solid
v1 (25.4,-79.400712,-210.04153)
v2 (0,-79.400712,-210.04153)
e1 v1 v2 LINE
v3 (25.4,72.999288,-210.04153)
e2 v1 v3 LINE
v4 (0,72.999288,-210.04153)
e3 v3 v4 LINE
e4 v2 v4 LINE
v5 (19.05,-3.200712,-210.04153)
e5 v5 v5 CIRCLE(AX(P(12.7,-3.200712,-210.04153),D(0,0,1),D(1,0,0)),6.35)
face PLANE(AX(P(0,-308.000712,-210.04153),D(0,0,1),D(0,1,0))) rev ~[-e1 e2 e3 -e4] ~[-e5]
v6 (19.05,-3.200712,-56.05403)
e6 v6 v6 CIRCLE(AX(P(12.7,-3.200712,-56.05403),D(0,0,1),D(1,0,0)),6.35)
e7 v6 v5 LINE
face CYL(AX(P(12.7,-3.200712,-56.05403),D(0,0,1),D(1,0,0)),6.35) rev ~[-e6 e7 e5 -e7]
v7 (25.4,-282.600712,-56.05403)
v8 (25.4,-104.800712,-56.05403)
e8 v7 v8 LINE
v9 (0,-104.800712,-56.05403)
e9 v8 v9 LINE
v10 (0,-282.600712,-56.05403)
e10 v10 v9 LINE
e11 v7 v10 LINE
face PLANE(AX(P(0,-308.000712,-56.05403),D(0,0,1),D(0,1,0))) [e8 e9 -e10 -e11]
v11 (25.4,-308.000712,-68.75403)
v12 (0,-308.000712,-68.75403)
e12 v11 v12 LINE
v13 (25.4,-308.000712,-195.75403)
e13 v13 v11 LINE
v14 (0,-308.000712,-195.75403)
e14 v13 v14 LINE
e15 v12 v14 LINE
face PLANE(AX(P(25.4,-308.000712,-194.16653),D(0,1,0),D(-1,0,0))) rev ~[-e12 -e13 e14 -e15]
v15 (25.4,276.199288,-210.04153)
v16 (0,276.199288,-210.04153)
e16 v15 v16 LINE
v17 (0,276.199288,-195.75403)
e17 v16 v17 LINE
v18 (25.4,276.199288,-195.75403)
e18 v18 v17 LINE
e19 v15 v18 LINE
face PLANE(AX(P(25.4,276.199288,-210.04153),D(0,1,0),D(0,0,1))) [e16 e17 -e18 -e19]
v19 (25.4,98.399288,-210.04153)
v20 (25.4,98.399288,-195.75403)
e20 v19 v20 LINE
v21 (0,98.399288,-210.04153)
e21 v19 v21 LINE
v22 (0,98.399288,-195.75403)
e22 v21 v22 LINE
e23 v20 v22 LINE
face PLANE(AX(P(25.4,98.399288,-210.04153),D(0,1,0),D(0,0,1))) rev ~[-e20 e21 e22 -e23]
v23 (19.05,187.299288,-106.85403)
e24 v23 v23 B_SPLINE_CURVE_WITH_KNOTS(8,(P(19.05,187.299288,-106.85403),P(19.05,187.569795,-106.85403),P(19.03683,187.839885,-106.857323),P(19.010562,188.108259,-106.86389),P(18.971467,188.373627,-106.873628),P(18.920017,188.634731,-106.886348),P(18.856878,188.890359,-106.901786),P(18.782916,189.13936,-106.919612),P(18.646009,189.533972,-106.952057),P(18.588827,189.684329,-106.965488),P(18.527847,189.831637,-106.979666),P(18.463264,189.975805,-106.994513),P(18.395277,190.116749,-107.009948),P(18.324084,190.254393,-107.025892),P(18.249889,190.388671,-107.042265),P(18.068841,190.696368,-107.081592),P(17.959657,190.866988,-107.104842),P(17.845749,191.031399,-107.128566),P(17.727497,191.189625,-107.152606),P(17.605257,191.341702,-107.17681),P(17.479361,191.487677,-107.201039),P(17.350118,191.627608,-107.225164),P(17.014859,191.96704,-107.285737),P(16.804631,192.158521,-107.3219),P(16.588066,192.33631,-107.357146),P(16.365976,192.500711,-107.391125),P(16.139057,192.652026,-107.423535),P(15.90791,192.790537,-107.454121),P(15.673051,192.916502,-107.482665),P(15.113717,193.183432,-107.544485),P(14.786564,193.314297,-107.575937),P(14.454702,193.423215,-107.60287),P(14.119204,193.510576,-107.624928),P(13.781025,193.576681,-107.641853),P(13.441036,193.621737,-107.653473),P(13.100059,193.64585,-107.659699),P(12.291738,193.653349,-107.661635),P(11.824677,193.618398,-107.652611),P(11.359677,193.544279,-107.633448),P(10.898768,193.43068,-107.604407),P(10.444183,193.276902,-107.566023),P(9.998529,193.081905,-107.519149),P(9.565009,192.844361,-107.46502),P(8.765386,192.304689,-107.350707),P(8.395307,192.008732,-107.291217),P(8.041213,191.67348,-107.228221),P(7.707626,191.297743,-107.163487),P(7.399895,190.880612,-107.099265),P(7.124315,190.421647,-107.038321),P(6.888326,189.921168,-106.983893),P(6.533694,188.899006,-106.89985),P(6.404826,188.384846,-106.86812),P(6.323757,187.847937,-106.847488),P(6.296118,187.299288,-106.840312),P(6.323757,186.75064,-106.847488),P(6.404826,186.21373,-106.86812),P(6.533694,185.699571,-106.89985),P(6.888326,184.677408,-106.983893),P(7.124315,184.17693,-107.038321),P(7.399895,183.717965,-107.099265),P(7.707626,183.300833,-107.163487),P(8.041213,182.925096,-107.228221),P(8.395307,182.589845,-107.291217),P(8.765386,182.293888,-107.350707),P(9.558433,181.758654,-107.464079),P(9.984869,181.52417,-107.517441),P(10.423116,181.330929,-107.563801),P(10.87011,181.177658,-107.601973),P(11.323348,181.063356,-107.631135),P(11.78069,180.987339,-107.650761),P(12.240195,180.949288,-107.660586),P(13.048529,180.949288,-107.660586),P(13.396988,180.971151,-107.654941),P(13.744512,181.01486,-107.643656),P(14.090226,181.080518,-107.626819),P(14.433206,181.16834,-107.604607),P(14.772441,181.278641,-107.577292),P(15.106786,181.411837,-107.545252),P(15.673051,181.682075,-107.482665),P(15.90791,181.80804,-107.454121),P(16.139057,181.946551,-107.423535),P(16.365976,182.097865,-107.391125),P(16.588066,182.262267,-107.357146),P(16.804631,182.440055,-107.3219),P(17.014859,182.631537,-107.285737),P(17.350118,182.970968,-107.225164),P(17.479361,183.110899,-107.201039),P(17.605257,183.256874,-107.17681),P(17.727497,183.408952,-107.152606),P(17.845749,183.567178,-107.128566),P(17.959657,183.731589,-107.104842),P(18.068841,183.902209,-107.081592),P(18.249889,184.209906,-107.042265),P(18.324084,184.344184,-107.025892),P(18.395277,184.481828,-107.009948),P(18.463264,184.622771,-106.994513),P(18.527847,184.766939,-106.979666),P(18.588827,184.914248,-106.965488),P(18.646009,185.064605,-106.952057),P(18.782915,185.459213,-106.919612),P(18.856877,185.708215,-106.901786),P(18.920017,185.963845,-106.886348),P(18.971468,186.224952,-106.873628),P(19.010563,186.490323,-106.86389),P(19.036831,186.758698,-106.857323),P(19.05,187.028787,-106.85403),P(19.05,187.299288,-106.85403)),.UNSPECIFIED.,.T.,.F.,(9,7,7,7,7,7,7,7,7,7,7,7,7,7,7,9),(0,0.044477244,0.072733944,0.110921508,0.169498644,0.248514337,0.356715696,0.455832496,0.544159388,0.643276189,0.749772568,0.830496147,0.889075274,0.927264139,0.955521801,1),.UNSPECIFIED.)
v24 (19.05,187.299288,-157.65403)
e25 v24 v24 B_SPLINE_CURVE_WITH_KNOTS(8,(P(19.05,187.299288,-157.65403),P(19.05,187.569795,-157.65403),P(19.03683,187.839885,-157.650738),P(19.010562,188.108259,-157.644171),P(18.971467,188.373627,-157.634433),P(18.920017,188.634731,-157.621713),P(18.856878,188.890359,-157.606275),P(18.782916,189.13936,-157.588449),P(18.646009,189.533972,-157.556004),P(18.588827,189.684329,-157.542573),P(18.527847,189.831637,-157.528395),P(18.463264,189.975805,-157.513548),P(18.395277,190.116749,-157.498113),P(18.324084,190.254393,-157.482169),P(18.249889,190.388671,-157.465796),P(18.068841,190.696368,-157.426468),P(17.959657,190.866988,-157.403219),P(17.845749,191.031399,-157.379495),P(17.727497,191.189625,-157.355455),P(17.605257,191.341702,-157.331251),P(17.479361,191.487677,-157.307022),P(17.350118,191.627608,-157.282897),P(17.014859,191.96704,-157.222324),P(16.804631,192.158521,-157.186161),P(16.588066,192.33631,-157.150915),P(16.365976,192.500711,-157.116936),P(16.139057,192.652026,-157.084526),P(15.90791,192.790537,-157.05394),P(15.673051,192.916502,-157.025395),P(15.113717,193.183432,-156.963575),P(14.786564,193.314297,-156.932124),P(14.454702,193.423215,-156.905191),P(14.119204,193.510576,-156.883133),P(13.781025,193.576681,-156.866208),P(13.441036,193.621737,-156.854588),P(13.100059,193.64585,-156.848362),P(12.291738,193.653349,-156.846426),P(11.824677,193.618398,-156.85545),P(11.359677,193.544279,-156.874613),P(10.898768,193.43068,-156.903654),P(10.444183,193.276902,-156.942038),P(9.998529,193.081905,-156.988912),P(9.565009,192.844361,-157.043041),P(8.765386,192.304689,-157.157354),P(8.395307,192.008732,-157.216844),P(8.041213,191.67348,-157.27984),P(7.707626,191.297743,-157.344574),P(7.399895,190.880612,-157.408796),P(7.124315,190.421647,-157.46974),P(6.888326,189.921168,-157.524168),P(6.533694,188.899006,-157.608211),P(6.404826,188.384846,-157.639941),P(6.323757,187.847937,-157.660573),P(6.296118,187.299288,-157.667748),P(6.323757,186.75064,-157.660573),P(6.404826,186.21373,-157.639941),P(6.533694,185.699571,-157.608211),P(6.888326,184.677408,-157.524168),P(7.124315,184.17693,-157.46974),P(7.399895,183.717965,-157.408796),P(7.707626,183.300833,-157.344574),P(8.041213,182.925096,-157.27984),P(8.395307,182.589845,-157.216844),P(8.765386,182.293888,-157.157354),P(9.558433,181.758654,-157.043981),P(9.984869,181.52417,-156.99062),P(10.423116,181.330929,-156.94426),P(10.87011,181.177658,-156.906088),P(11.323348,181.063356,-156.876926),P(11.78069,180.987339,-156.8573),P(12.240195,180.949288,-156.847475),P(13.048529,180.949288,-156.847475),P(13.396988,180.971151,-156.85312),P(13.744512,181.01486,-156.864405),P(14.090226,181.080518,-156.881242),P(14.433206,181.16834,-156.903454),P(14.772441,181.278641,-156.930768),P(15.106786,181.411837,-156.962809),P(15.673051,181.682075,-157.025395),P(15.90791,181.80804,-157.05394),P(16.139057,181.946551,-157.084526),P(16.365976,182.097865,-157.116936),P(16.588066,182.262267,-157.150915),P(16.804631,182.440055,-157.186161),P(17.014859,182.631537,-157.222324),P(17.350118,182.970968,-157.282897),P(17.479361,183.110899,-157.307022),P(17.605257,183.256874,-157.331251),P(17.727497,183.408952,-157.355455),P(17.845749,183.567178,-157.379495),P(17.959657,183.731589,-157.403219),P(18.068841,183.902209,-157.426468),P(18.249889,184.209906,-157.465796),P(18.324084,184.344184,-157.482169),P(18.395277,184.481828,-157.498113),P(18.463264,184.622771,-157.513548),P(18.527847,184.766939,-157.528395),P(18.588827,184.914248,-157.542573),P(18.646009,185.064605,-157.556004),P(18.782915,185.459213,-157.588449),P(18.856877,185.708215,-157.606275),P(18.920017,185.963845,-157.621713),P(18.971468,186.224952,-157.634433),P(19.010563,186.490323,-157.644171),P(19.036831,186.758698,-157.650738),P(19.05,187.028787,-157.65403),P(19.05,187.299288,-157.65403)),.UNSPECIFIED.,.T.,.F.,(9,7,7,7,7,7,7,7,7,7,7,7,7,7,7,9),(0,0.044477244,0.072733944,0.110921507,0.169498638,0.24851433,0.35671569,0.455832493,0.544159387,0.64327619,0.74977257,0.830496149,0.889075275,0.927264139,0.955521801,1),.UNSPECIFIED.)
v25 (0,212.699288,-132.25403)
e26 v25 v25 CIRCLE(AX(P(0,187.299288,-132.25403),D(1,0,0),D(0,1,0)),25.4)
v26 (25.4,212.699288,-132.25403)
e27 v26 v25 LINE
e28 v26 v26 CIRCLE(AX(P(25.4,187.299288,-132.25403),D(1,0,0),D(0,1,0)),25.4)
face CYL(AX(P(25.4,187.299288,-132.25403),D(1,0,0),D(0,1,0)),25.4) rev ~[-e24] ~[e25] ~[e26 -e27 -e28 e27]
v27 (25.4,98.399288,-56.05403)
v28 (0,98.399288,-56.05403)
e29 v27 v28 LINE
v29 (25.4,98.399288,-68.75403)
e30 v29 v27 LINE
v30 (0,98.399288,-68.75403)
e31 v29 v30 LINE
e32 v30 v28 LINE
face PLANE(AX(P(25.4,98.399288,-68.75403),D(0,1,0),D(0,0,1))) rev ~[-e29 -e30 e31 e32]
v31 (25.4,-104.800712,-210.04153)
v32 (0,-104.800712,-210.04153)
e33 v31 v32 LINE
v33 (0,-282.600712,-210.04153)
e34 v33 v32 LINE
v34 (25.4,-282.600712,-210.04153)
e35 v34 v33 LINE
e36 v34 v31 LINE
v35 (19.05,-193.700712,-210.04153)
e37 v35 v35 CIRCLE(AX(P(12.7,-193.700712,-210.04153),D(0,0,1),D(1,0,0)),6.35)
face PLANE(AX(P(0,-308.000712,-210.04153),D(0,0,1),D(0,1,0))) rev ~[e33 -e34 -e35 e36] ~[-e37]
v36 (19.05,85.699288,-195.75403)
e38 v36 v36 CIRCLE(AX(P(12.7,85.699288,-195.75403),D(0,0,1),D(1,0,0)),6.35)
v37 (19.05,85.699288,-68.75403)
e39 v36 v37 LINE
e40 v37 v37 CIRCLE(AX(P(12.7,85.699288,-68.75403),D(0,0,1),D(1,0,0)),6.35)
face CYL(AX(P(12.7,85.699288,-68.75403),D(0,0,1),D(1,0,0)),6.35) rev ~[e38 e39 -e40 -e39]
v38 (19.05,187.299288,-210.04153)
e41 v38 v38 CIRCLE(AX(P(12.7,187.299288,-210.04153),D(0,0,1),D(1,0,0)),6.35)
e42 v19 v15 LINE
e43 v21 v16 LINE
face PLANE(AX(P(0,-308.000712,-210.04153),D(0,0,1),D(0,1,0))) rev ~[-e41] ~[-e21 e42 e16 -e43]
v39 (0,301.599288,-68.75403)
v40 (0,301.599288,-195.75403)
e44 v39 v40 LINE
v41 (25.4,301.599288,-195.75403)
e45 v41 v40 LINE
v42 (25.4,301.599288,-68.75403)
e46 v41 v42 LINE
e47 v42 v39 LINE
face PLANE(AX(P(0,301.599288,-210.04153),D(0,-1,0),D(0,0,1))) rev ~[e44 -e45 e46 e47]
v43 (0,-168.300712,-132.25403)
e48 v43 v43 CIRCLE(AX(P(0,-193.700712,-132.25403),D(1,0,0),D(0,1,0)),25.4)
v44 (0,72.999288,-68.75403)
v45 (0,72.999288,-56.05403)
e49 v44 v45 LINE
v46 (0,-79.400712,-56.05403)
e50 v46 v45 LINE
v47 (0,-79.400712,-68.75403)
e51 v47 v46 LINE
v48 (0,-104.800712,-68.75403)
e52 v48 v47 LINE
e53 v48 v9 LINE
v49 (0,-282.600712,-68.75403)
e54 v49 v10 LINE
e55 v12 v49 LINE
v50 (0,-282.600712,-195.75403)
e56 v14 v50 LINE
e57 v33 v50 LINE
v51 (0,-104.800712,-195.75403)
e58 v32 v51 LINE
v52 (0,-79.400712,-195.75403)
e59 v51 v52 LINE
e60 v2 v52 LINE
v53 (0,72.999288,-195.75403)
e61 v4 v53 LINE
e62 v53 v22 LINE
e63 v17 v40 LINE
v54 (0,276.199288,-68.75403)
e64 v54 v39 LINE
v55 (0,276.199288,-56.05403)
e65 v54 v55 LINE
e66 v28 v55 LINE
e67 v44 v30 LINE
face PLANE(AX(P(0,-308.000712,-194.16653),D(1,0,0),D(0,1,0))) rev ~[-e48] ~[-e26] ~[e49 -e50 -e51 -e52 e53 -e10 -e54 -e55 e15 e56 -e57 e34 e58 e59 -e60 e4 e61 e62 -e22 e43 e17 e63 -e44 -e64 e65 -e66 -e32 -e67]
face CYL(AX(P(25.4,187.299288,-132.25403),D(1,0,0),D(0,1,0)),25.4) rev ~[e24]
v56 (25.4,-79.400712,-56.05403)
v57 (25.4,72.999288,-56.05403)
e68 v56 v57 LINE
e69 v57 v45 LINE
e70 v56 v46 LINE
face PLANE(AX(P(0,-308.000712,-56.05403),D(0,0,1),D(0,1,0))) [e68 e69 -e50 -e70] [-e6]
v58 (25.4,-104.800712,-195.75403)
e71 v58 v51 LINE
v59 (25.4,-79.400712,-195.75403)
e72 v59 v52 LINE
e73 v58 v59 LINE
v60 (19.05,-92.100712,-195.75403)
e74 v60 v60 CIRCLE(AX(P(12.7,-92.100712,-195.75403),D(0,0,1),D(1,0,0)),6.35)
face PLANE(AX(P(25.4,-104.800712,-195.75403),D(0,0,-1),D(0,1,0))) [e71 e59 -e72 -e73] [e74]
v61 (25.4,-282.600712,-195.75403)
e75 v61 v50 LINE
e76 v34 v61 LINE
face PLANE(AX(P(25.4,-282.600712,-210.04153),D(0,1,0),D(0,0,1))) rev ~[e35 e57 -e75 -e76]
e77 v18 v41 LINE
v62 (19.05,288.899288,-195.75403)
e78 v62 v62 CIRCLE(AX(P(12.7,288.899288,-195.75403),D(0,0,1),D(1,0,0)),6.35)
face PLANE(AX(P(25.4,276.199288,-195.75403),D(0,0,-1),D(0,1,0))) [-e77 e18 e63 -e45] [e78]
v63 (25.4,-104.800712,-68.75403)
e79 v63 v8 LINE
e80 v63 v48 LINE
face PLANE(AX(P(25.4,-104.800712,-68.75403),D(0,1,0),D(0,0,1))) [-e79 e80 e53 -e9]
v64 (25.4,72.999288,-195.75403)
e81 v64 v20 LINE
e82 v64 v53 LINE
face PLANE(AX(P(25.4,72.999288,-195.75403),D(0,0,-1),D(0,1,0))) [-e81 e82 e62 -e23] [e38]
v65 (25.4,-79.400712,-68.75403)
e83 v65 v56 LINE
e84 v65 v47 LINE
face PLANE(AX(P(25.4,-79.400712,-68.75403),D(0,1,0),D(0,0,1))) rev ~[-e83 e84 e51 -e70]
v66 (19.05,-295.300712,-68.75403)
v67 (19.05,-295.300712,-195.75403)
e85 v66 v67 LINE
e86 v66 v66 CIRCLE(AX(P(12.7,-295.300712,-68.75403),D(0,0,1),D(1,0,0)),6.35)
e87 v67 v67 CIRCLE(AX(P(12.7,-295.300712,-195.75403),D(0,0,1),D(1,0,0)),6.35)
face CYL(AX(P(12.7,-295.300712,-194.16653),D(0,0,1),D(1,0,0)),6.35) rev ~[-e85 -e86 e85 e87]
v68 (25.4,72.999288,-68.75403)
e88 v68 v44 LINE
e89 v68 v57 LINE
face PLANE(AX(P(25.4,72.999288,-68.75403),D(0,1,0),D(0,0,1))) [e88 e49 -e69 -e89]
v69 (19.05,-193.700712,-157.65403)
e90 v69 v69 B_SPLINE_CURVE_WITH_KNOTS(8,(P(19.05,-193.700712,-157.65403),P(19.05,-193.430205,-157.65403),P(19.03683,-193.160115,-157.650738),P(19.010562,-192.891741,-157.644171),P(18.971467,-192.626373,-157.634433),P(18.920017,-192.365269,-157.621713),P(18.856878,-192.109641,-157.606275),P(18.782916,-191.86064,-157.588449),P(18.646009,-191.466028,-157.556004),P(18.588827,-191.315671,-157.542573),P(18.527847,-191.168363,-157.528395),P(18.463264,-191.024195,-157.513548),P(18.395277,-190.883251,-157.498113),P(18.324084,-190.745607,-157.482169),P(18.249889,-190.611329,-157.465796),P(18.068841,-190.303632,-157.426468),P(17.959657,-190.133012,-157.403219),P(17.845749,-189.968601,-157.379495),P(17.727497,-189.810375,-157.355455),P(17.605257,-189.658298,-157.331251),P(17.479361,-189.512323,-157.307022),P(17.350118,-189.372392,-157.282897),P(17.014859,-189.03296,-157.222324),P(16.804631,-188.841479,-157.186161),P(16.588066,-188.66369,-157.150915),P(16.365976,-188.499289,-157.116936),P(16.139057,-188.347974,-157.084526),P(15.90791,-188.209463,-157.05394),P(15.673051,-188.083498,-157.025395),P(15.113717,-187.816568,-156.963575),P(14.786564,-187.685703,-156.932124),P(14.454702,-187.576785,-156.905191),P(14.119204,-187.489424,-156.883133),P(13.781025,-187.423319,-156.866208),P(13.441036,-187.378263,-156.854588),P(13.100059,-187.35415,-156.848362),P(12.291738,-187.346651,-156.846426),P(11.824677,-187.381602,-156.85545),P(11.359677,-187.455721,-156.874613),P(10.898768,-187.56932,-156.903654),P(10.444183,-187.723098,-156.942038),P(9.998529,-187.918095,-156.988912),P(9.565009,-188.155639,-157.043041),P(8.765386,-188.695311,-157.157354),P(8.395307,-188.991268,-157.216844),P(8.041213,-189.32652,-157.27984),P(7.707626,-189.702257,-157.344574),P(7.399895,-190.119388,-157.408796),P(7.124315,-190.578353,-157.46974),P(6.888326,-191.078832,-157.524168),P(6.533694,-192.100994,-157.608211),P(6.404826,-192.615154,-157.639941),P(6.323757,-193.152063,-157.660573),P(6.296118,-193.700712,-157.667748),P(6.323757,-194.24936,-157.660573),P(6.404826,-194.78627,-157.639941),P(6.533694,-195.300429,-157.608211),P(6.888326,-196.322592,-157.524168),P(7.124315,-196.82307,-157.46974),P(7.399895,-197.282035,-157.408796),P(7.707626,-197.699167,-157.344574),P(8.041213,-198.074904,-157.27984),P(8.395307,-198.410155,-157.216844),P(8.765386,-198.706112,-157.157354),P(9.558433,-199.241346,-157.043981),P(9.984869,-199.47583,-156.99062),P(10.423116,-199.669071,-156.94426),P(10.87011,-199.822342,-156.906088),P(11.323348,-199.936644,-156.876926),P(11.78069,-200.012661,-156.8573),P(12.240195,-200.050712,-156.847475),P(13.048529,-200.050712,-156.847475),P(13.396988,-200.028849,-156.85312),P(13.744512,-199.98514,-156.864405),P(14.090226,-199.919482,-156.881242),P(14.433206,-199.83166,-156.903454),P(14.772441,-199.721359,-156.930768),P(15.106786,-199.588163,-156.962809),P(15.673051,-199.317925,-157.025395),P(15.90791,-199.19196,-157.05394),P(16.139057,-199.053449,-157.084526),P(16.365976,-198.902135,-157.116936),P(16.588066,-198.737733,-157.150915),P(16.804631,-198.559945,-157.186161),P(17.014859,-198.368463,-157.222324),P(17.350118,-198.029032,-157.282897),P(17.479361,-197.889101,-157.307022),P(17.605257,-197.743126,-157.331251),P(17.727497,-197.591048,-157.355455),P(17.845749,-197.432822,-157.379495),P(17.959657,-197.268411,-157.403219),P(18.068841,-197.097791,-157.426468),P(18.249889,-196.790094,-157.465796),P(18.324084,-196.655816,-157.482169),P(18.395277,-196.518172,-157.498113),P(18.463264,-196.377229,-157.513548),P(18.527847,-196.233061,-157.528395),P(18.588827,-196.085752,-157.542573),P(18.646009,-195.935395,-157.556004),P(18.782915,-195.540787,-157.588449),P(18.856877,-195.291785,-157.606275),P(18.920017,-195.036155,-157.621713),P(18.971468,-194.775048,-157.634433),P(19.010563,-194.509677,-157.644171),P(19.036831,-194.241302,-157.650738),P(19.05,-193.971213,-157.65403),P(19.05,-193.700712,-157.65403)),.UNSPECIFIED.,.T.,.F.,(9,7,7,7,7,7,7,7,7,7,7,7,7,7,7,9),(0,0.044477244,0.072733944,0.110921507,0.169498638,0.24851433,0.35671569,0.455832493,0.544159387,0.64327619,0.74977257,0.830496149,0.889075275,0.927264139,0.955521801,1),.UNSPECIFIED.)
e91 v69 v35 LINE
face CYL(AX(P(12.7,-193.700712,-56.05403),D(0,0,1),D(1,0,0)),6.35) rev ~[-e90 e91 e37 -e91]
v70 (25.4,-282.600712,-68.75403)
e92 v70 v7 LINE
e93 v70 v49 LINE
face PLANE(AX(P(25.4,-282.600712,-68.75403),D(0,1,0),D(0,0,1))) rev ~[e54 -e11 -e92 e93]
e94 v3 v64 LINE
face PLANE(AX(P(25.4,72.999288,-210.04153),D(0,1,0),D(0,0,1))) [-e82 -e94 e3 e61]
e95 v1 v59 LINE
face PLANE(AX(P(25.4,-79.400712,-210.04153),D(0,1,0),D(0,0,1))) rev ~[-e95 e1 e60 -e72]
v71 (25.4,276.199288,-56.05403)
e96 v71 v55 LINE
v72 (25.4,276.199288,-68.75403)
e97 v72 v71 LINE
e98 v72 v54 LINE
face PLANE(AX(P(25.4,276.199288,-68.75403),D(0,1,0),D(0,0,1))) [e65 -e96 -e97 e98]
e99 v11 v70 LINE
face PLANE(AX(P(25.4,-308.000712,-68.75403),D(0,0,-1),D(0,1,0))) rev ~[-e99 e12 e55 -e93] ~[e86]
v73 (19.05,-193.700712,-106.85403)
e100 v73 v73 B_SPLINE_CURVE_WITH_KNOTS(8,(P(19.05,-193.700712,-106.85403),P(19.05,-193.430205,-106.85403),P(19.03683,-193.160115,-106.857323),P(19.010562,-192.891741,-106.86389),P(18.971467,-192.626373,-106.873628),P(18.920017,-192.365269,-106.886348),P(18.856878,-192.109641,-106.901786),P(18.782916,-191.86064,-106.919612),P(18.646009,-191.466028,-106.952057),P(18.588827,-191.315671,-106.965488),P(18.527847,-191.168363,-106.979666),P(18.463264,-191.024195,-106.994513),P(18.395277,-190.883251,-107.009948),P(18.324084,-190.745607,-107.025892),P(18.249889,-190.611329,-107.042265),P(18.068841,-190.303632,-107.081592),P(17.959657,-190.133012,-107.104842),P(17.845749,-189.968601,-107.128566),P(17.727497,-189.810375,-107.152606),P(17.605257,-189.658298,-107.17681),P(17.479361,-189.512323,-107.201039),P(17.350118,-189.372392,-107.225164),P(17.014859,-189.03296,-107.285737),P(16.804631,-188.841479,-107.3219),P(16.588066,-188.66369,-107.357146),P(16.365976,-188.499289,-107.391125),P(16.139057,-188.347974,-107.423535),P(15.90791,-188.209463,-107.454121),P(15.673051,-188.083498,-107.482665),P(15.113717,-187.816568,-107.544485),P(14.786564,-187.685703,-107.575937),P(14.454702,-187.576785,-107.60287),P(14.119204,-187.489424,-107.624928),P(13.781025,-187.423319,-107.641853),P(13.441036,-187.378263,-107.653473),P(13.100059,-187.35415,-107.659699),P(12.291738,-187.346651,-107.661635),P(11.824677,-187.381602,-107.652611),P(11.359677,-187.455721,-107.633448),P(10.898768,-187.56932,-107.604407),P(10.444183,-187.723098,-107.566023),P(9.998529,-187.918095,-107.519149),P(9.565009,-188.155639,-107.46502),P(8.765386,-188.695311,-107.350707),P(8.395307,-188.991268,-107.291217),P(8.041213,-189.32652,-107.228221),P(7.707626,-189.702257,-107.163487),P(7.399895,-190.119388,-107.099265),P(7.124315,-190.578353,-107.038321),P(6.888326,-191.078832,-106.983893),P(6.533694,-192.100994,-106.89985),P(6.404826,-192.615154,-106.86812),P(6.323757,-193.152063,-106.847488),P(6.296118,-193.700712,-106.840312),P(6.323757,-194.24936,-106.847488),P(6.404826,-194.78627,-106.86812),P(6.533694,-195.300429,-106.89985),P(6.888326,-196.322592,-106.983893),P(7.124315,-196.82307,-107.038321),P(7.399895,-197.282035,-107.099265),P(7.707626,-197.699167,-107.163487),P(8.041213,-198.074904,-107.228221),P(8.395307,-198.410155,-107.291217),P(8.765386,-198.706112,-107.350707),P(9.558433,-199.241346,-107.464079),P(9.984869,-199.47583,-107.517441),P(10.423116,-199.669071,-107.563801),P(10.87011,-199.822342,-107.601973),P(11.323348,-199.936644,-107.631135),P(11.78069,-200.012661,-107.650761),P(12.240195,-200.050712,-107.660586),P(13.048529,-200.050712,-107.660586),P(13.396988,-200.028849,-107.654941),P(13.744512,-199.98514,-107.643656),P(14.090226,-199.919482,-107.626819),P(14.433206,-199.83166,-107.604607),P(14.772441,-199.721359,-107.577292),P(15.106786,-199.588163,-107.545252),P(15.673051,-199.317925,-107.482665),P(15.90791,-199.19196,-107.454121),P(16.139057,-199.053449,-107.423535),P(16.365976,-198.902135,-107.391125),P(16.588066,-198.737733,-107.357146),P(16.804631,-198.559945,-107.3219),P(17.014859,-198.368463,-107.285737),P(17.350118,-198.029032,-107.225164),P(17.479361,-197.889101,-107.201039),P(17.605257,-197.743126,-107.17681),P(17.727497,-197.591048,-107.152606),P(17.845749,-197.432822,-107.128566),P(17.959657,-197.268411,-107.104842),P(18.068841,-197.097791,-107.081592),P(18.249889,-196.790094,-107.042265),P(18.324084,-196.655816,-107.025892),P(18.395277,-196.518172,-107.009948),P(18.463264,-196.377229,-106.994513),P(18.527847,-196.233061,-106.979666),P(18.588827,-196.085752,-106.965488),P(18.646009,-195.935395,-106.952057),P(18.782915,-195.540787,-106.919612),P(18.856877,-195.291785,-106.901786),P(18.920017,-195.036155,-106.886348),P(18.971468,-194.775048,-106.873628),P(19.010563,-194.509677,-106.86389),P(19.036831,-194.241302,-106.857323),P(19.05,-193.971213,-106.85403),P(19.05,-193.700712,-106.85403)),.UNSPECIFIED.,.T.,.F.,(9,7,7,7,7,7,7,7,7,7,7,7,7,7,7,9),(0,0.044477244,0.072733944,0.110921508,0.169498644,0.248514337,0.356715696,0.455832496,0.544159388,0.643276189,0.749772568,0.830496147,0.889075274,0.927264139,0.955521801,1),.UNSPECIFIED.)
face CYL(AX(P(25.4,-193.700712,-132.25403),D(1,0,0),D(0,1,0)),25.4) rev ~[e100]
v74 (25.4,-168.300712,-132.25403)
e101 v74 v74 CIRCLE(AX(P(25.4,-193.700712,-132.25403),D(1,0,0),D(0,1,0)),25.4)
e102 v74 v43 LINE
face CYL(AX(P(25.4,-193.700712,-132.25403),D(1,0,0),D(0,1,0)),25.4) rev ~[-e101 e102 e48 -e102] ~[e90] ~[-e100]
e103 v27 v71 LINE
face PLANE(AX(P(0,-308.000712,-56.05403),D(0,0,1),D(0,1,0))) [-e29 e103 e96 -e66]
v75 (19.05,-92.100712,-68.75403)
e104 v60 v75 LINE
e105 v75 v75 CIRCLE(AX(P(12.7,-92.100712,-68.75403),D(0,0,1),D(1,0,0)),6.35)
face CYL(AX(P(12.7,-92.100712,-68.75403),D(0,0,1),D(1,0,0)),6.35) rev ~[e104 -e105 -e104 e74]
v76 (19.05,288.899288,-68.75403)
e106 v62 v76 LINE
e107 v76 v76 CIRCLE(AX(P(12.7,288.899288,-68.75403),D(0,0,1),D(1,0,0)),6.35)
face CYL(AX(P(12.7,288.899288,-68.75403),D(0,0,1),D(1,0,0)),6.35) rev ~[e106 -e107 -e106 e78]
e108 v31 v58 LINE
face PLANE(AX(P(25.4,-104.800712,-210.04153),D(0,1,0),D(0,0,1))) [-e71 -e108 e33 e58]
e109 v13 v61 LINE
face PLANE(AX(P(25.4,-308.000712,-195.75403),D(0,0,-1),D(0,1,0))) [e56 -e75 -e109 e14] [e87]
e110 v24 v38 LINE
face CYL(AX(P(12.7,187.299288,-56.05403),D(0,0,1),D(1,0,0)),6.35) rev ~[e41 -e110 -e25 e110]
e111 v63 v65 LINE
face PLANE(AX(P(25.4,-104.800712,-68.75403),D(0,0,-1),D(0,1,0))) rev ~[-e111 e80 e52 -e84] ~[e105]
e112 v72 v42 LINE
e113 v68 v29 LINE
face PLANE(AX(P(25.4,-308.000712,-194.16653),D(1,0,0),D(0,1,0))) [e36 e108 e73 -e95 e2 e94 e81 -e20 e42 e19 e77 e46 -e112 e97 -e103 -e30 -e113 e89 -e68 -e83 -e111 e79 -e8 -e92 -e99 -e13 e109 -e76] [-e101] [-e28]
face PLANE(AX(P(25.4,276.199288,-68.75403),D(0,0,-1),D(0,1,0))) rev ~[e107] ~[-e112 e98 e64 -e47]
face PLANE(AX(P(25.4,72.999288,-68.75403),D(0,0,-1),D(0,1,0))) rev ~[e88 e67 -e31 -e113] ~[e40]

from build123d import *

# Parameters (mm, degrees)
F0_W      = 609.6
F0_H      = 153.9875
F1_DEPTH  = 25.4
F2_W      = 25.4
F2_H      = 12.7
F2_H_2    = 15.875
F3_DEPTH  = 25.4
F7_R      = 6.35
F6_R      = 6.35
F5_R      = 6.35
F4_R      = 6.35
F8_DEPTH  = 177.8
F9_DEPTH  = 1.5875
F12_R     = 6.35
F11_R     = 6.35
F10_R     = 6.35
F13_DEPTH = 177.8
F14_R     = 25.4
F15_DEPTH = 25.4
F16_DEPTH = 76.2
F17_DEPTH = 25.4


with BuildPart() as f1:
    # F0 (on Right) → F1 (new body)
    with BuildSketch(Plane.YZ):
        with Locations((-3.2007116824, -133.0477804439)):
            Rectangle(F0_W, F0_H)
    extrude(amount=F1_DEPTH)

    # F2 (on face) → F3 (cut)
    with BuildSketch(Plane.YZ.offset(25.4)):
        with Locations((-295.3007116824, -62.4040304439)):
            Rectangle(F2_W, F2_H)
        with Locations((-295.3007116824, -202.1040304439)):
            Rectangle(F2_W, F2_H_2)
        with Locations((-92.1007116824, -202.1040304439)):
            Rectangle(F2_W, F2_H_2)
        with Locations((-92.1007116824, -62.4040304439)):
            Rectangle(F2_W, F2_H)
        with Locations((85.6992883176, -62.4040304439)):
            Rectangle(F2_W, F2_H)
        with Locations((85.6992883176, -202.1040304439)):
            Rectangle(F2_W, F2_H_2)
        with Locations((288.8992883176, -62.4040304439)):
            Rectangle(F2_W, F2_H)
        with Locations((288.8992883176, -202.1040304439)):
            Rectangle(F2_W, F2_H_2)
    extrude(amount=-F3_DEPTH, mode=Mode.SUBTRACT)

    # F7 (on face) + F6 (on face) + F5 (on face) + F4 (on face) → F8 (cut)
    with BuildSketch(Plane.XY.offset(-68.7540304439)):
        with Locations((12.7, 288.8992883176)):
            Circle(F7_R)
    with BuildSketch(Plane.XY.offset(-68.7540304439)):
        with Locations((12.7, 85.6992883176)):
            Circle(F6_R)
    with BuildSketch(Plane.XY.offset(-68.7540304439)):
        with Locations((12.7, -92.1007116824)):
            Circle(F5_R)
    with BuildSketch(Plane.XY.offset(-68.7540304439)):
        with Locations((12.7, -295.3007116824)):
            Circle(F4_R)
    extrude(amount=-F8_DEPTH, mode=Mode.SUBTRACT)

    # F9 (add): faces of the model
    f9_faces = [f1.faces().sort_by_distance(p)[0] for p in [
        (12.7, -282.9599219273, -194.1665304439),
        (12.7, -79.7599219273, -194.1665304439),
        (12.7, 98.0400780727, -194.1665304439),
        (12.7, 301.2400780727, -194.1665304439),
    ]]
    extrude(f9_faces, amount=F9_DEPTH)

    # F12 (on face) + F11 (on face) + F10 (on face) → F13 (cut)
    with BuildSketch(Plane.XY.offset(-56.0540304439)):
        with Locations((12.7, -193.7007116824)):
            Circle(F12_R)
    with BuildSketch(Plane.XY.offset(-56.0540304439)):
        with Locations((12.7, -3.2007116824)):
            Circle(F11_R)
    with BuildSketch(Plane.XY.offset(-56.0540304439)):
        with Locations((12.7, 187.2992883176)):
            Circle(F10_R)
    extrude(amount=-F13_DEPTH, mode=Mode.SUBTRACT)

    # F14 (on face) → F15 (cut)
    with BuildSketch(Plane.YZ.offset(25.4)):
        with Locations((-193.7007116824, -132.2540304439)):
            Circle(F14_R)
        with Locations((187.2992883176, -132.2540304439)):
            Circle(F14_R)
    extrude(amount=-F15_DEPTH, mode=Mode.SUBTRACT)

    # F12 (on face) + F10 (on face) → F16 (join)
    with BuildSketch(Plane.XY.offset(-56.0540304439)):
        with Locations((12.7, -193.7007116824)):
            Circle(F12_R)
    with BuildSketch(Plane.XY.offset(-56.0540304439)):
        with Locations((12.7, 187.2992883176)):
            Circle(F10_R)
    extrude(amount=-F16_DEPTH)

    # F14 (on face) → F17 (cut)
    with BuildSketch(Plane.YZ.offset(25.4)):
        with Locations((-193.7007116824, -132.2540304439)):
            Circle(F14_R)
        with Locations((187.2992883176, -132.2540304439)):
            Circle(F14_R)
    extrude(amount=-F17_DEPTH, mode=Mode.SUBTRACT)


solid = f1.part
